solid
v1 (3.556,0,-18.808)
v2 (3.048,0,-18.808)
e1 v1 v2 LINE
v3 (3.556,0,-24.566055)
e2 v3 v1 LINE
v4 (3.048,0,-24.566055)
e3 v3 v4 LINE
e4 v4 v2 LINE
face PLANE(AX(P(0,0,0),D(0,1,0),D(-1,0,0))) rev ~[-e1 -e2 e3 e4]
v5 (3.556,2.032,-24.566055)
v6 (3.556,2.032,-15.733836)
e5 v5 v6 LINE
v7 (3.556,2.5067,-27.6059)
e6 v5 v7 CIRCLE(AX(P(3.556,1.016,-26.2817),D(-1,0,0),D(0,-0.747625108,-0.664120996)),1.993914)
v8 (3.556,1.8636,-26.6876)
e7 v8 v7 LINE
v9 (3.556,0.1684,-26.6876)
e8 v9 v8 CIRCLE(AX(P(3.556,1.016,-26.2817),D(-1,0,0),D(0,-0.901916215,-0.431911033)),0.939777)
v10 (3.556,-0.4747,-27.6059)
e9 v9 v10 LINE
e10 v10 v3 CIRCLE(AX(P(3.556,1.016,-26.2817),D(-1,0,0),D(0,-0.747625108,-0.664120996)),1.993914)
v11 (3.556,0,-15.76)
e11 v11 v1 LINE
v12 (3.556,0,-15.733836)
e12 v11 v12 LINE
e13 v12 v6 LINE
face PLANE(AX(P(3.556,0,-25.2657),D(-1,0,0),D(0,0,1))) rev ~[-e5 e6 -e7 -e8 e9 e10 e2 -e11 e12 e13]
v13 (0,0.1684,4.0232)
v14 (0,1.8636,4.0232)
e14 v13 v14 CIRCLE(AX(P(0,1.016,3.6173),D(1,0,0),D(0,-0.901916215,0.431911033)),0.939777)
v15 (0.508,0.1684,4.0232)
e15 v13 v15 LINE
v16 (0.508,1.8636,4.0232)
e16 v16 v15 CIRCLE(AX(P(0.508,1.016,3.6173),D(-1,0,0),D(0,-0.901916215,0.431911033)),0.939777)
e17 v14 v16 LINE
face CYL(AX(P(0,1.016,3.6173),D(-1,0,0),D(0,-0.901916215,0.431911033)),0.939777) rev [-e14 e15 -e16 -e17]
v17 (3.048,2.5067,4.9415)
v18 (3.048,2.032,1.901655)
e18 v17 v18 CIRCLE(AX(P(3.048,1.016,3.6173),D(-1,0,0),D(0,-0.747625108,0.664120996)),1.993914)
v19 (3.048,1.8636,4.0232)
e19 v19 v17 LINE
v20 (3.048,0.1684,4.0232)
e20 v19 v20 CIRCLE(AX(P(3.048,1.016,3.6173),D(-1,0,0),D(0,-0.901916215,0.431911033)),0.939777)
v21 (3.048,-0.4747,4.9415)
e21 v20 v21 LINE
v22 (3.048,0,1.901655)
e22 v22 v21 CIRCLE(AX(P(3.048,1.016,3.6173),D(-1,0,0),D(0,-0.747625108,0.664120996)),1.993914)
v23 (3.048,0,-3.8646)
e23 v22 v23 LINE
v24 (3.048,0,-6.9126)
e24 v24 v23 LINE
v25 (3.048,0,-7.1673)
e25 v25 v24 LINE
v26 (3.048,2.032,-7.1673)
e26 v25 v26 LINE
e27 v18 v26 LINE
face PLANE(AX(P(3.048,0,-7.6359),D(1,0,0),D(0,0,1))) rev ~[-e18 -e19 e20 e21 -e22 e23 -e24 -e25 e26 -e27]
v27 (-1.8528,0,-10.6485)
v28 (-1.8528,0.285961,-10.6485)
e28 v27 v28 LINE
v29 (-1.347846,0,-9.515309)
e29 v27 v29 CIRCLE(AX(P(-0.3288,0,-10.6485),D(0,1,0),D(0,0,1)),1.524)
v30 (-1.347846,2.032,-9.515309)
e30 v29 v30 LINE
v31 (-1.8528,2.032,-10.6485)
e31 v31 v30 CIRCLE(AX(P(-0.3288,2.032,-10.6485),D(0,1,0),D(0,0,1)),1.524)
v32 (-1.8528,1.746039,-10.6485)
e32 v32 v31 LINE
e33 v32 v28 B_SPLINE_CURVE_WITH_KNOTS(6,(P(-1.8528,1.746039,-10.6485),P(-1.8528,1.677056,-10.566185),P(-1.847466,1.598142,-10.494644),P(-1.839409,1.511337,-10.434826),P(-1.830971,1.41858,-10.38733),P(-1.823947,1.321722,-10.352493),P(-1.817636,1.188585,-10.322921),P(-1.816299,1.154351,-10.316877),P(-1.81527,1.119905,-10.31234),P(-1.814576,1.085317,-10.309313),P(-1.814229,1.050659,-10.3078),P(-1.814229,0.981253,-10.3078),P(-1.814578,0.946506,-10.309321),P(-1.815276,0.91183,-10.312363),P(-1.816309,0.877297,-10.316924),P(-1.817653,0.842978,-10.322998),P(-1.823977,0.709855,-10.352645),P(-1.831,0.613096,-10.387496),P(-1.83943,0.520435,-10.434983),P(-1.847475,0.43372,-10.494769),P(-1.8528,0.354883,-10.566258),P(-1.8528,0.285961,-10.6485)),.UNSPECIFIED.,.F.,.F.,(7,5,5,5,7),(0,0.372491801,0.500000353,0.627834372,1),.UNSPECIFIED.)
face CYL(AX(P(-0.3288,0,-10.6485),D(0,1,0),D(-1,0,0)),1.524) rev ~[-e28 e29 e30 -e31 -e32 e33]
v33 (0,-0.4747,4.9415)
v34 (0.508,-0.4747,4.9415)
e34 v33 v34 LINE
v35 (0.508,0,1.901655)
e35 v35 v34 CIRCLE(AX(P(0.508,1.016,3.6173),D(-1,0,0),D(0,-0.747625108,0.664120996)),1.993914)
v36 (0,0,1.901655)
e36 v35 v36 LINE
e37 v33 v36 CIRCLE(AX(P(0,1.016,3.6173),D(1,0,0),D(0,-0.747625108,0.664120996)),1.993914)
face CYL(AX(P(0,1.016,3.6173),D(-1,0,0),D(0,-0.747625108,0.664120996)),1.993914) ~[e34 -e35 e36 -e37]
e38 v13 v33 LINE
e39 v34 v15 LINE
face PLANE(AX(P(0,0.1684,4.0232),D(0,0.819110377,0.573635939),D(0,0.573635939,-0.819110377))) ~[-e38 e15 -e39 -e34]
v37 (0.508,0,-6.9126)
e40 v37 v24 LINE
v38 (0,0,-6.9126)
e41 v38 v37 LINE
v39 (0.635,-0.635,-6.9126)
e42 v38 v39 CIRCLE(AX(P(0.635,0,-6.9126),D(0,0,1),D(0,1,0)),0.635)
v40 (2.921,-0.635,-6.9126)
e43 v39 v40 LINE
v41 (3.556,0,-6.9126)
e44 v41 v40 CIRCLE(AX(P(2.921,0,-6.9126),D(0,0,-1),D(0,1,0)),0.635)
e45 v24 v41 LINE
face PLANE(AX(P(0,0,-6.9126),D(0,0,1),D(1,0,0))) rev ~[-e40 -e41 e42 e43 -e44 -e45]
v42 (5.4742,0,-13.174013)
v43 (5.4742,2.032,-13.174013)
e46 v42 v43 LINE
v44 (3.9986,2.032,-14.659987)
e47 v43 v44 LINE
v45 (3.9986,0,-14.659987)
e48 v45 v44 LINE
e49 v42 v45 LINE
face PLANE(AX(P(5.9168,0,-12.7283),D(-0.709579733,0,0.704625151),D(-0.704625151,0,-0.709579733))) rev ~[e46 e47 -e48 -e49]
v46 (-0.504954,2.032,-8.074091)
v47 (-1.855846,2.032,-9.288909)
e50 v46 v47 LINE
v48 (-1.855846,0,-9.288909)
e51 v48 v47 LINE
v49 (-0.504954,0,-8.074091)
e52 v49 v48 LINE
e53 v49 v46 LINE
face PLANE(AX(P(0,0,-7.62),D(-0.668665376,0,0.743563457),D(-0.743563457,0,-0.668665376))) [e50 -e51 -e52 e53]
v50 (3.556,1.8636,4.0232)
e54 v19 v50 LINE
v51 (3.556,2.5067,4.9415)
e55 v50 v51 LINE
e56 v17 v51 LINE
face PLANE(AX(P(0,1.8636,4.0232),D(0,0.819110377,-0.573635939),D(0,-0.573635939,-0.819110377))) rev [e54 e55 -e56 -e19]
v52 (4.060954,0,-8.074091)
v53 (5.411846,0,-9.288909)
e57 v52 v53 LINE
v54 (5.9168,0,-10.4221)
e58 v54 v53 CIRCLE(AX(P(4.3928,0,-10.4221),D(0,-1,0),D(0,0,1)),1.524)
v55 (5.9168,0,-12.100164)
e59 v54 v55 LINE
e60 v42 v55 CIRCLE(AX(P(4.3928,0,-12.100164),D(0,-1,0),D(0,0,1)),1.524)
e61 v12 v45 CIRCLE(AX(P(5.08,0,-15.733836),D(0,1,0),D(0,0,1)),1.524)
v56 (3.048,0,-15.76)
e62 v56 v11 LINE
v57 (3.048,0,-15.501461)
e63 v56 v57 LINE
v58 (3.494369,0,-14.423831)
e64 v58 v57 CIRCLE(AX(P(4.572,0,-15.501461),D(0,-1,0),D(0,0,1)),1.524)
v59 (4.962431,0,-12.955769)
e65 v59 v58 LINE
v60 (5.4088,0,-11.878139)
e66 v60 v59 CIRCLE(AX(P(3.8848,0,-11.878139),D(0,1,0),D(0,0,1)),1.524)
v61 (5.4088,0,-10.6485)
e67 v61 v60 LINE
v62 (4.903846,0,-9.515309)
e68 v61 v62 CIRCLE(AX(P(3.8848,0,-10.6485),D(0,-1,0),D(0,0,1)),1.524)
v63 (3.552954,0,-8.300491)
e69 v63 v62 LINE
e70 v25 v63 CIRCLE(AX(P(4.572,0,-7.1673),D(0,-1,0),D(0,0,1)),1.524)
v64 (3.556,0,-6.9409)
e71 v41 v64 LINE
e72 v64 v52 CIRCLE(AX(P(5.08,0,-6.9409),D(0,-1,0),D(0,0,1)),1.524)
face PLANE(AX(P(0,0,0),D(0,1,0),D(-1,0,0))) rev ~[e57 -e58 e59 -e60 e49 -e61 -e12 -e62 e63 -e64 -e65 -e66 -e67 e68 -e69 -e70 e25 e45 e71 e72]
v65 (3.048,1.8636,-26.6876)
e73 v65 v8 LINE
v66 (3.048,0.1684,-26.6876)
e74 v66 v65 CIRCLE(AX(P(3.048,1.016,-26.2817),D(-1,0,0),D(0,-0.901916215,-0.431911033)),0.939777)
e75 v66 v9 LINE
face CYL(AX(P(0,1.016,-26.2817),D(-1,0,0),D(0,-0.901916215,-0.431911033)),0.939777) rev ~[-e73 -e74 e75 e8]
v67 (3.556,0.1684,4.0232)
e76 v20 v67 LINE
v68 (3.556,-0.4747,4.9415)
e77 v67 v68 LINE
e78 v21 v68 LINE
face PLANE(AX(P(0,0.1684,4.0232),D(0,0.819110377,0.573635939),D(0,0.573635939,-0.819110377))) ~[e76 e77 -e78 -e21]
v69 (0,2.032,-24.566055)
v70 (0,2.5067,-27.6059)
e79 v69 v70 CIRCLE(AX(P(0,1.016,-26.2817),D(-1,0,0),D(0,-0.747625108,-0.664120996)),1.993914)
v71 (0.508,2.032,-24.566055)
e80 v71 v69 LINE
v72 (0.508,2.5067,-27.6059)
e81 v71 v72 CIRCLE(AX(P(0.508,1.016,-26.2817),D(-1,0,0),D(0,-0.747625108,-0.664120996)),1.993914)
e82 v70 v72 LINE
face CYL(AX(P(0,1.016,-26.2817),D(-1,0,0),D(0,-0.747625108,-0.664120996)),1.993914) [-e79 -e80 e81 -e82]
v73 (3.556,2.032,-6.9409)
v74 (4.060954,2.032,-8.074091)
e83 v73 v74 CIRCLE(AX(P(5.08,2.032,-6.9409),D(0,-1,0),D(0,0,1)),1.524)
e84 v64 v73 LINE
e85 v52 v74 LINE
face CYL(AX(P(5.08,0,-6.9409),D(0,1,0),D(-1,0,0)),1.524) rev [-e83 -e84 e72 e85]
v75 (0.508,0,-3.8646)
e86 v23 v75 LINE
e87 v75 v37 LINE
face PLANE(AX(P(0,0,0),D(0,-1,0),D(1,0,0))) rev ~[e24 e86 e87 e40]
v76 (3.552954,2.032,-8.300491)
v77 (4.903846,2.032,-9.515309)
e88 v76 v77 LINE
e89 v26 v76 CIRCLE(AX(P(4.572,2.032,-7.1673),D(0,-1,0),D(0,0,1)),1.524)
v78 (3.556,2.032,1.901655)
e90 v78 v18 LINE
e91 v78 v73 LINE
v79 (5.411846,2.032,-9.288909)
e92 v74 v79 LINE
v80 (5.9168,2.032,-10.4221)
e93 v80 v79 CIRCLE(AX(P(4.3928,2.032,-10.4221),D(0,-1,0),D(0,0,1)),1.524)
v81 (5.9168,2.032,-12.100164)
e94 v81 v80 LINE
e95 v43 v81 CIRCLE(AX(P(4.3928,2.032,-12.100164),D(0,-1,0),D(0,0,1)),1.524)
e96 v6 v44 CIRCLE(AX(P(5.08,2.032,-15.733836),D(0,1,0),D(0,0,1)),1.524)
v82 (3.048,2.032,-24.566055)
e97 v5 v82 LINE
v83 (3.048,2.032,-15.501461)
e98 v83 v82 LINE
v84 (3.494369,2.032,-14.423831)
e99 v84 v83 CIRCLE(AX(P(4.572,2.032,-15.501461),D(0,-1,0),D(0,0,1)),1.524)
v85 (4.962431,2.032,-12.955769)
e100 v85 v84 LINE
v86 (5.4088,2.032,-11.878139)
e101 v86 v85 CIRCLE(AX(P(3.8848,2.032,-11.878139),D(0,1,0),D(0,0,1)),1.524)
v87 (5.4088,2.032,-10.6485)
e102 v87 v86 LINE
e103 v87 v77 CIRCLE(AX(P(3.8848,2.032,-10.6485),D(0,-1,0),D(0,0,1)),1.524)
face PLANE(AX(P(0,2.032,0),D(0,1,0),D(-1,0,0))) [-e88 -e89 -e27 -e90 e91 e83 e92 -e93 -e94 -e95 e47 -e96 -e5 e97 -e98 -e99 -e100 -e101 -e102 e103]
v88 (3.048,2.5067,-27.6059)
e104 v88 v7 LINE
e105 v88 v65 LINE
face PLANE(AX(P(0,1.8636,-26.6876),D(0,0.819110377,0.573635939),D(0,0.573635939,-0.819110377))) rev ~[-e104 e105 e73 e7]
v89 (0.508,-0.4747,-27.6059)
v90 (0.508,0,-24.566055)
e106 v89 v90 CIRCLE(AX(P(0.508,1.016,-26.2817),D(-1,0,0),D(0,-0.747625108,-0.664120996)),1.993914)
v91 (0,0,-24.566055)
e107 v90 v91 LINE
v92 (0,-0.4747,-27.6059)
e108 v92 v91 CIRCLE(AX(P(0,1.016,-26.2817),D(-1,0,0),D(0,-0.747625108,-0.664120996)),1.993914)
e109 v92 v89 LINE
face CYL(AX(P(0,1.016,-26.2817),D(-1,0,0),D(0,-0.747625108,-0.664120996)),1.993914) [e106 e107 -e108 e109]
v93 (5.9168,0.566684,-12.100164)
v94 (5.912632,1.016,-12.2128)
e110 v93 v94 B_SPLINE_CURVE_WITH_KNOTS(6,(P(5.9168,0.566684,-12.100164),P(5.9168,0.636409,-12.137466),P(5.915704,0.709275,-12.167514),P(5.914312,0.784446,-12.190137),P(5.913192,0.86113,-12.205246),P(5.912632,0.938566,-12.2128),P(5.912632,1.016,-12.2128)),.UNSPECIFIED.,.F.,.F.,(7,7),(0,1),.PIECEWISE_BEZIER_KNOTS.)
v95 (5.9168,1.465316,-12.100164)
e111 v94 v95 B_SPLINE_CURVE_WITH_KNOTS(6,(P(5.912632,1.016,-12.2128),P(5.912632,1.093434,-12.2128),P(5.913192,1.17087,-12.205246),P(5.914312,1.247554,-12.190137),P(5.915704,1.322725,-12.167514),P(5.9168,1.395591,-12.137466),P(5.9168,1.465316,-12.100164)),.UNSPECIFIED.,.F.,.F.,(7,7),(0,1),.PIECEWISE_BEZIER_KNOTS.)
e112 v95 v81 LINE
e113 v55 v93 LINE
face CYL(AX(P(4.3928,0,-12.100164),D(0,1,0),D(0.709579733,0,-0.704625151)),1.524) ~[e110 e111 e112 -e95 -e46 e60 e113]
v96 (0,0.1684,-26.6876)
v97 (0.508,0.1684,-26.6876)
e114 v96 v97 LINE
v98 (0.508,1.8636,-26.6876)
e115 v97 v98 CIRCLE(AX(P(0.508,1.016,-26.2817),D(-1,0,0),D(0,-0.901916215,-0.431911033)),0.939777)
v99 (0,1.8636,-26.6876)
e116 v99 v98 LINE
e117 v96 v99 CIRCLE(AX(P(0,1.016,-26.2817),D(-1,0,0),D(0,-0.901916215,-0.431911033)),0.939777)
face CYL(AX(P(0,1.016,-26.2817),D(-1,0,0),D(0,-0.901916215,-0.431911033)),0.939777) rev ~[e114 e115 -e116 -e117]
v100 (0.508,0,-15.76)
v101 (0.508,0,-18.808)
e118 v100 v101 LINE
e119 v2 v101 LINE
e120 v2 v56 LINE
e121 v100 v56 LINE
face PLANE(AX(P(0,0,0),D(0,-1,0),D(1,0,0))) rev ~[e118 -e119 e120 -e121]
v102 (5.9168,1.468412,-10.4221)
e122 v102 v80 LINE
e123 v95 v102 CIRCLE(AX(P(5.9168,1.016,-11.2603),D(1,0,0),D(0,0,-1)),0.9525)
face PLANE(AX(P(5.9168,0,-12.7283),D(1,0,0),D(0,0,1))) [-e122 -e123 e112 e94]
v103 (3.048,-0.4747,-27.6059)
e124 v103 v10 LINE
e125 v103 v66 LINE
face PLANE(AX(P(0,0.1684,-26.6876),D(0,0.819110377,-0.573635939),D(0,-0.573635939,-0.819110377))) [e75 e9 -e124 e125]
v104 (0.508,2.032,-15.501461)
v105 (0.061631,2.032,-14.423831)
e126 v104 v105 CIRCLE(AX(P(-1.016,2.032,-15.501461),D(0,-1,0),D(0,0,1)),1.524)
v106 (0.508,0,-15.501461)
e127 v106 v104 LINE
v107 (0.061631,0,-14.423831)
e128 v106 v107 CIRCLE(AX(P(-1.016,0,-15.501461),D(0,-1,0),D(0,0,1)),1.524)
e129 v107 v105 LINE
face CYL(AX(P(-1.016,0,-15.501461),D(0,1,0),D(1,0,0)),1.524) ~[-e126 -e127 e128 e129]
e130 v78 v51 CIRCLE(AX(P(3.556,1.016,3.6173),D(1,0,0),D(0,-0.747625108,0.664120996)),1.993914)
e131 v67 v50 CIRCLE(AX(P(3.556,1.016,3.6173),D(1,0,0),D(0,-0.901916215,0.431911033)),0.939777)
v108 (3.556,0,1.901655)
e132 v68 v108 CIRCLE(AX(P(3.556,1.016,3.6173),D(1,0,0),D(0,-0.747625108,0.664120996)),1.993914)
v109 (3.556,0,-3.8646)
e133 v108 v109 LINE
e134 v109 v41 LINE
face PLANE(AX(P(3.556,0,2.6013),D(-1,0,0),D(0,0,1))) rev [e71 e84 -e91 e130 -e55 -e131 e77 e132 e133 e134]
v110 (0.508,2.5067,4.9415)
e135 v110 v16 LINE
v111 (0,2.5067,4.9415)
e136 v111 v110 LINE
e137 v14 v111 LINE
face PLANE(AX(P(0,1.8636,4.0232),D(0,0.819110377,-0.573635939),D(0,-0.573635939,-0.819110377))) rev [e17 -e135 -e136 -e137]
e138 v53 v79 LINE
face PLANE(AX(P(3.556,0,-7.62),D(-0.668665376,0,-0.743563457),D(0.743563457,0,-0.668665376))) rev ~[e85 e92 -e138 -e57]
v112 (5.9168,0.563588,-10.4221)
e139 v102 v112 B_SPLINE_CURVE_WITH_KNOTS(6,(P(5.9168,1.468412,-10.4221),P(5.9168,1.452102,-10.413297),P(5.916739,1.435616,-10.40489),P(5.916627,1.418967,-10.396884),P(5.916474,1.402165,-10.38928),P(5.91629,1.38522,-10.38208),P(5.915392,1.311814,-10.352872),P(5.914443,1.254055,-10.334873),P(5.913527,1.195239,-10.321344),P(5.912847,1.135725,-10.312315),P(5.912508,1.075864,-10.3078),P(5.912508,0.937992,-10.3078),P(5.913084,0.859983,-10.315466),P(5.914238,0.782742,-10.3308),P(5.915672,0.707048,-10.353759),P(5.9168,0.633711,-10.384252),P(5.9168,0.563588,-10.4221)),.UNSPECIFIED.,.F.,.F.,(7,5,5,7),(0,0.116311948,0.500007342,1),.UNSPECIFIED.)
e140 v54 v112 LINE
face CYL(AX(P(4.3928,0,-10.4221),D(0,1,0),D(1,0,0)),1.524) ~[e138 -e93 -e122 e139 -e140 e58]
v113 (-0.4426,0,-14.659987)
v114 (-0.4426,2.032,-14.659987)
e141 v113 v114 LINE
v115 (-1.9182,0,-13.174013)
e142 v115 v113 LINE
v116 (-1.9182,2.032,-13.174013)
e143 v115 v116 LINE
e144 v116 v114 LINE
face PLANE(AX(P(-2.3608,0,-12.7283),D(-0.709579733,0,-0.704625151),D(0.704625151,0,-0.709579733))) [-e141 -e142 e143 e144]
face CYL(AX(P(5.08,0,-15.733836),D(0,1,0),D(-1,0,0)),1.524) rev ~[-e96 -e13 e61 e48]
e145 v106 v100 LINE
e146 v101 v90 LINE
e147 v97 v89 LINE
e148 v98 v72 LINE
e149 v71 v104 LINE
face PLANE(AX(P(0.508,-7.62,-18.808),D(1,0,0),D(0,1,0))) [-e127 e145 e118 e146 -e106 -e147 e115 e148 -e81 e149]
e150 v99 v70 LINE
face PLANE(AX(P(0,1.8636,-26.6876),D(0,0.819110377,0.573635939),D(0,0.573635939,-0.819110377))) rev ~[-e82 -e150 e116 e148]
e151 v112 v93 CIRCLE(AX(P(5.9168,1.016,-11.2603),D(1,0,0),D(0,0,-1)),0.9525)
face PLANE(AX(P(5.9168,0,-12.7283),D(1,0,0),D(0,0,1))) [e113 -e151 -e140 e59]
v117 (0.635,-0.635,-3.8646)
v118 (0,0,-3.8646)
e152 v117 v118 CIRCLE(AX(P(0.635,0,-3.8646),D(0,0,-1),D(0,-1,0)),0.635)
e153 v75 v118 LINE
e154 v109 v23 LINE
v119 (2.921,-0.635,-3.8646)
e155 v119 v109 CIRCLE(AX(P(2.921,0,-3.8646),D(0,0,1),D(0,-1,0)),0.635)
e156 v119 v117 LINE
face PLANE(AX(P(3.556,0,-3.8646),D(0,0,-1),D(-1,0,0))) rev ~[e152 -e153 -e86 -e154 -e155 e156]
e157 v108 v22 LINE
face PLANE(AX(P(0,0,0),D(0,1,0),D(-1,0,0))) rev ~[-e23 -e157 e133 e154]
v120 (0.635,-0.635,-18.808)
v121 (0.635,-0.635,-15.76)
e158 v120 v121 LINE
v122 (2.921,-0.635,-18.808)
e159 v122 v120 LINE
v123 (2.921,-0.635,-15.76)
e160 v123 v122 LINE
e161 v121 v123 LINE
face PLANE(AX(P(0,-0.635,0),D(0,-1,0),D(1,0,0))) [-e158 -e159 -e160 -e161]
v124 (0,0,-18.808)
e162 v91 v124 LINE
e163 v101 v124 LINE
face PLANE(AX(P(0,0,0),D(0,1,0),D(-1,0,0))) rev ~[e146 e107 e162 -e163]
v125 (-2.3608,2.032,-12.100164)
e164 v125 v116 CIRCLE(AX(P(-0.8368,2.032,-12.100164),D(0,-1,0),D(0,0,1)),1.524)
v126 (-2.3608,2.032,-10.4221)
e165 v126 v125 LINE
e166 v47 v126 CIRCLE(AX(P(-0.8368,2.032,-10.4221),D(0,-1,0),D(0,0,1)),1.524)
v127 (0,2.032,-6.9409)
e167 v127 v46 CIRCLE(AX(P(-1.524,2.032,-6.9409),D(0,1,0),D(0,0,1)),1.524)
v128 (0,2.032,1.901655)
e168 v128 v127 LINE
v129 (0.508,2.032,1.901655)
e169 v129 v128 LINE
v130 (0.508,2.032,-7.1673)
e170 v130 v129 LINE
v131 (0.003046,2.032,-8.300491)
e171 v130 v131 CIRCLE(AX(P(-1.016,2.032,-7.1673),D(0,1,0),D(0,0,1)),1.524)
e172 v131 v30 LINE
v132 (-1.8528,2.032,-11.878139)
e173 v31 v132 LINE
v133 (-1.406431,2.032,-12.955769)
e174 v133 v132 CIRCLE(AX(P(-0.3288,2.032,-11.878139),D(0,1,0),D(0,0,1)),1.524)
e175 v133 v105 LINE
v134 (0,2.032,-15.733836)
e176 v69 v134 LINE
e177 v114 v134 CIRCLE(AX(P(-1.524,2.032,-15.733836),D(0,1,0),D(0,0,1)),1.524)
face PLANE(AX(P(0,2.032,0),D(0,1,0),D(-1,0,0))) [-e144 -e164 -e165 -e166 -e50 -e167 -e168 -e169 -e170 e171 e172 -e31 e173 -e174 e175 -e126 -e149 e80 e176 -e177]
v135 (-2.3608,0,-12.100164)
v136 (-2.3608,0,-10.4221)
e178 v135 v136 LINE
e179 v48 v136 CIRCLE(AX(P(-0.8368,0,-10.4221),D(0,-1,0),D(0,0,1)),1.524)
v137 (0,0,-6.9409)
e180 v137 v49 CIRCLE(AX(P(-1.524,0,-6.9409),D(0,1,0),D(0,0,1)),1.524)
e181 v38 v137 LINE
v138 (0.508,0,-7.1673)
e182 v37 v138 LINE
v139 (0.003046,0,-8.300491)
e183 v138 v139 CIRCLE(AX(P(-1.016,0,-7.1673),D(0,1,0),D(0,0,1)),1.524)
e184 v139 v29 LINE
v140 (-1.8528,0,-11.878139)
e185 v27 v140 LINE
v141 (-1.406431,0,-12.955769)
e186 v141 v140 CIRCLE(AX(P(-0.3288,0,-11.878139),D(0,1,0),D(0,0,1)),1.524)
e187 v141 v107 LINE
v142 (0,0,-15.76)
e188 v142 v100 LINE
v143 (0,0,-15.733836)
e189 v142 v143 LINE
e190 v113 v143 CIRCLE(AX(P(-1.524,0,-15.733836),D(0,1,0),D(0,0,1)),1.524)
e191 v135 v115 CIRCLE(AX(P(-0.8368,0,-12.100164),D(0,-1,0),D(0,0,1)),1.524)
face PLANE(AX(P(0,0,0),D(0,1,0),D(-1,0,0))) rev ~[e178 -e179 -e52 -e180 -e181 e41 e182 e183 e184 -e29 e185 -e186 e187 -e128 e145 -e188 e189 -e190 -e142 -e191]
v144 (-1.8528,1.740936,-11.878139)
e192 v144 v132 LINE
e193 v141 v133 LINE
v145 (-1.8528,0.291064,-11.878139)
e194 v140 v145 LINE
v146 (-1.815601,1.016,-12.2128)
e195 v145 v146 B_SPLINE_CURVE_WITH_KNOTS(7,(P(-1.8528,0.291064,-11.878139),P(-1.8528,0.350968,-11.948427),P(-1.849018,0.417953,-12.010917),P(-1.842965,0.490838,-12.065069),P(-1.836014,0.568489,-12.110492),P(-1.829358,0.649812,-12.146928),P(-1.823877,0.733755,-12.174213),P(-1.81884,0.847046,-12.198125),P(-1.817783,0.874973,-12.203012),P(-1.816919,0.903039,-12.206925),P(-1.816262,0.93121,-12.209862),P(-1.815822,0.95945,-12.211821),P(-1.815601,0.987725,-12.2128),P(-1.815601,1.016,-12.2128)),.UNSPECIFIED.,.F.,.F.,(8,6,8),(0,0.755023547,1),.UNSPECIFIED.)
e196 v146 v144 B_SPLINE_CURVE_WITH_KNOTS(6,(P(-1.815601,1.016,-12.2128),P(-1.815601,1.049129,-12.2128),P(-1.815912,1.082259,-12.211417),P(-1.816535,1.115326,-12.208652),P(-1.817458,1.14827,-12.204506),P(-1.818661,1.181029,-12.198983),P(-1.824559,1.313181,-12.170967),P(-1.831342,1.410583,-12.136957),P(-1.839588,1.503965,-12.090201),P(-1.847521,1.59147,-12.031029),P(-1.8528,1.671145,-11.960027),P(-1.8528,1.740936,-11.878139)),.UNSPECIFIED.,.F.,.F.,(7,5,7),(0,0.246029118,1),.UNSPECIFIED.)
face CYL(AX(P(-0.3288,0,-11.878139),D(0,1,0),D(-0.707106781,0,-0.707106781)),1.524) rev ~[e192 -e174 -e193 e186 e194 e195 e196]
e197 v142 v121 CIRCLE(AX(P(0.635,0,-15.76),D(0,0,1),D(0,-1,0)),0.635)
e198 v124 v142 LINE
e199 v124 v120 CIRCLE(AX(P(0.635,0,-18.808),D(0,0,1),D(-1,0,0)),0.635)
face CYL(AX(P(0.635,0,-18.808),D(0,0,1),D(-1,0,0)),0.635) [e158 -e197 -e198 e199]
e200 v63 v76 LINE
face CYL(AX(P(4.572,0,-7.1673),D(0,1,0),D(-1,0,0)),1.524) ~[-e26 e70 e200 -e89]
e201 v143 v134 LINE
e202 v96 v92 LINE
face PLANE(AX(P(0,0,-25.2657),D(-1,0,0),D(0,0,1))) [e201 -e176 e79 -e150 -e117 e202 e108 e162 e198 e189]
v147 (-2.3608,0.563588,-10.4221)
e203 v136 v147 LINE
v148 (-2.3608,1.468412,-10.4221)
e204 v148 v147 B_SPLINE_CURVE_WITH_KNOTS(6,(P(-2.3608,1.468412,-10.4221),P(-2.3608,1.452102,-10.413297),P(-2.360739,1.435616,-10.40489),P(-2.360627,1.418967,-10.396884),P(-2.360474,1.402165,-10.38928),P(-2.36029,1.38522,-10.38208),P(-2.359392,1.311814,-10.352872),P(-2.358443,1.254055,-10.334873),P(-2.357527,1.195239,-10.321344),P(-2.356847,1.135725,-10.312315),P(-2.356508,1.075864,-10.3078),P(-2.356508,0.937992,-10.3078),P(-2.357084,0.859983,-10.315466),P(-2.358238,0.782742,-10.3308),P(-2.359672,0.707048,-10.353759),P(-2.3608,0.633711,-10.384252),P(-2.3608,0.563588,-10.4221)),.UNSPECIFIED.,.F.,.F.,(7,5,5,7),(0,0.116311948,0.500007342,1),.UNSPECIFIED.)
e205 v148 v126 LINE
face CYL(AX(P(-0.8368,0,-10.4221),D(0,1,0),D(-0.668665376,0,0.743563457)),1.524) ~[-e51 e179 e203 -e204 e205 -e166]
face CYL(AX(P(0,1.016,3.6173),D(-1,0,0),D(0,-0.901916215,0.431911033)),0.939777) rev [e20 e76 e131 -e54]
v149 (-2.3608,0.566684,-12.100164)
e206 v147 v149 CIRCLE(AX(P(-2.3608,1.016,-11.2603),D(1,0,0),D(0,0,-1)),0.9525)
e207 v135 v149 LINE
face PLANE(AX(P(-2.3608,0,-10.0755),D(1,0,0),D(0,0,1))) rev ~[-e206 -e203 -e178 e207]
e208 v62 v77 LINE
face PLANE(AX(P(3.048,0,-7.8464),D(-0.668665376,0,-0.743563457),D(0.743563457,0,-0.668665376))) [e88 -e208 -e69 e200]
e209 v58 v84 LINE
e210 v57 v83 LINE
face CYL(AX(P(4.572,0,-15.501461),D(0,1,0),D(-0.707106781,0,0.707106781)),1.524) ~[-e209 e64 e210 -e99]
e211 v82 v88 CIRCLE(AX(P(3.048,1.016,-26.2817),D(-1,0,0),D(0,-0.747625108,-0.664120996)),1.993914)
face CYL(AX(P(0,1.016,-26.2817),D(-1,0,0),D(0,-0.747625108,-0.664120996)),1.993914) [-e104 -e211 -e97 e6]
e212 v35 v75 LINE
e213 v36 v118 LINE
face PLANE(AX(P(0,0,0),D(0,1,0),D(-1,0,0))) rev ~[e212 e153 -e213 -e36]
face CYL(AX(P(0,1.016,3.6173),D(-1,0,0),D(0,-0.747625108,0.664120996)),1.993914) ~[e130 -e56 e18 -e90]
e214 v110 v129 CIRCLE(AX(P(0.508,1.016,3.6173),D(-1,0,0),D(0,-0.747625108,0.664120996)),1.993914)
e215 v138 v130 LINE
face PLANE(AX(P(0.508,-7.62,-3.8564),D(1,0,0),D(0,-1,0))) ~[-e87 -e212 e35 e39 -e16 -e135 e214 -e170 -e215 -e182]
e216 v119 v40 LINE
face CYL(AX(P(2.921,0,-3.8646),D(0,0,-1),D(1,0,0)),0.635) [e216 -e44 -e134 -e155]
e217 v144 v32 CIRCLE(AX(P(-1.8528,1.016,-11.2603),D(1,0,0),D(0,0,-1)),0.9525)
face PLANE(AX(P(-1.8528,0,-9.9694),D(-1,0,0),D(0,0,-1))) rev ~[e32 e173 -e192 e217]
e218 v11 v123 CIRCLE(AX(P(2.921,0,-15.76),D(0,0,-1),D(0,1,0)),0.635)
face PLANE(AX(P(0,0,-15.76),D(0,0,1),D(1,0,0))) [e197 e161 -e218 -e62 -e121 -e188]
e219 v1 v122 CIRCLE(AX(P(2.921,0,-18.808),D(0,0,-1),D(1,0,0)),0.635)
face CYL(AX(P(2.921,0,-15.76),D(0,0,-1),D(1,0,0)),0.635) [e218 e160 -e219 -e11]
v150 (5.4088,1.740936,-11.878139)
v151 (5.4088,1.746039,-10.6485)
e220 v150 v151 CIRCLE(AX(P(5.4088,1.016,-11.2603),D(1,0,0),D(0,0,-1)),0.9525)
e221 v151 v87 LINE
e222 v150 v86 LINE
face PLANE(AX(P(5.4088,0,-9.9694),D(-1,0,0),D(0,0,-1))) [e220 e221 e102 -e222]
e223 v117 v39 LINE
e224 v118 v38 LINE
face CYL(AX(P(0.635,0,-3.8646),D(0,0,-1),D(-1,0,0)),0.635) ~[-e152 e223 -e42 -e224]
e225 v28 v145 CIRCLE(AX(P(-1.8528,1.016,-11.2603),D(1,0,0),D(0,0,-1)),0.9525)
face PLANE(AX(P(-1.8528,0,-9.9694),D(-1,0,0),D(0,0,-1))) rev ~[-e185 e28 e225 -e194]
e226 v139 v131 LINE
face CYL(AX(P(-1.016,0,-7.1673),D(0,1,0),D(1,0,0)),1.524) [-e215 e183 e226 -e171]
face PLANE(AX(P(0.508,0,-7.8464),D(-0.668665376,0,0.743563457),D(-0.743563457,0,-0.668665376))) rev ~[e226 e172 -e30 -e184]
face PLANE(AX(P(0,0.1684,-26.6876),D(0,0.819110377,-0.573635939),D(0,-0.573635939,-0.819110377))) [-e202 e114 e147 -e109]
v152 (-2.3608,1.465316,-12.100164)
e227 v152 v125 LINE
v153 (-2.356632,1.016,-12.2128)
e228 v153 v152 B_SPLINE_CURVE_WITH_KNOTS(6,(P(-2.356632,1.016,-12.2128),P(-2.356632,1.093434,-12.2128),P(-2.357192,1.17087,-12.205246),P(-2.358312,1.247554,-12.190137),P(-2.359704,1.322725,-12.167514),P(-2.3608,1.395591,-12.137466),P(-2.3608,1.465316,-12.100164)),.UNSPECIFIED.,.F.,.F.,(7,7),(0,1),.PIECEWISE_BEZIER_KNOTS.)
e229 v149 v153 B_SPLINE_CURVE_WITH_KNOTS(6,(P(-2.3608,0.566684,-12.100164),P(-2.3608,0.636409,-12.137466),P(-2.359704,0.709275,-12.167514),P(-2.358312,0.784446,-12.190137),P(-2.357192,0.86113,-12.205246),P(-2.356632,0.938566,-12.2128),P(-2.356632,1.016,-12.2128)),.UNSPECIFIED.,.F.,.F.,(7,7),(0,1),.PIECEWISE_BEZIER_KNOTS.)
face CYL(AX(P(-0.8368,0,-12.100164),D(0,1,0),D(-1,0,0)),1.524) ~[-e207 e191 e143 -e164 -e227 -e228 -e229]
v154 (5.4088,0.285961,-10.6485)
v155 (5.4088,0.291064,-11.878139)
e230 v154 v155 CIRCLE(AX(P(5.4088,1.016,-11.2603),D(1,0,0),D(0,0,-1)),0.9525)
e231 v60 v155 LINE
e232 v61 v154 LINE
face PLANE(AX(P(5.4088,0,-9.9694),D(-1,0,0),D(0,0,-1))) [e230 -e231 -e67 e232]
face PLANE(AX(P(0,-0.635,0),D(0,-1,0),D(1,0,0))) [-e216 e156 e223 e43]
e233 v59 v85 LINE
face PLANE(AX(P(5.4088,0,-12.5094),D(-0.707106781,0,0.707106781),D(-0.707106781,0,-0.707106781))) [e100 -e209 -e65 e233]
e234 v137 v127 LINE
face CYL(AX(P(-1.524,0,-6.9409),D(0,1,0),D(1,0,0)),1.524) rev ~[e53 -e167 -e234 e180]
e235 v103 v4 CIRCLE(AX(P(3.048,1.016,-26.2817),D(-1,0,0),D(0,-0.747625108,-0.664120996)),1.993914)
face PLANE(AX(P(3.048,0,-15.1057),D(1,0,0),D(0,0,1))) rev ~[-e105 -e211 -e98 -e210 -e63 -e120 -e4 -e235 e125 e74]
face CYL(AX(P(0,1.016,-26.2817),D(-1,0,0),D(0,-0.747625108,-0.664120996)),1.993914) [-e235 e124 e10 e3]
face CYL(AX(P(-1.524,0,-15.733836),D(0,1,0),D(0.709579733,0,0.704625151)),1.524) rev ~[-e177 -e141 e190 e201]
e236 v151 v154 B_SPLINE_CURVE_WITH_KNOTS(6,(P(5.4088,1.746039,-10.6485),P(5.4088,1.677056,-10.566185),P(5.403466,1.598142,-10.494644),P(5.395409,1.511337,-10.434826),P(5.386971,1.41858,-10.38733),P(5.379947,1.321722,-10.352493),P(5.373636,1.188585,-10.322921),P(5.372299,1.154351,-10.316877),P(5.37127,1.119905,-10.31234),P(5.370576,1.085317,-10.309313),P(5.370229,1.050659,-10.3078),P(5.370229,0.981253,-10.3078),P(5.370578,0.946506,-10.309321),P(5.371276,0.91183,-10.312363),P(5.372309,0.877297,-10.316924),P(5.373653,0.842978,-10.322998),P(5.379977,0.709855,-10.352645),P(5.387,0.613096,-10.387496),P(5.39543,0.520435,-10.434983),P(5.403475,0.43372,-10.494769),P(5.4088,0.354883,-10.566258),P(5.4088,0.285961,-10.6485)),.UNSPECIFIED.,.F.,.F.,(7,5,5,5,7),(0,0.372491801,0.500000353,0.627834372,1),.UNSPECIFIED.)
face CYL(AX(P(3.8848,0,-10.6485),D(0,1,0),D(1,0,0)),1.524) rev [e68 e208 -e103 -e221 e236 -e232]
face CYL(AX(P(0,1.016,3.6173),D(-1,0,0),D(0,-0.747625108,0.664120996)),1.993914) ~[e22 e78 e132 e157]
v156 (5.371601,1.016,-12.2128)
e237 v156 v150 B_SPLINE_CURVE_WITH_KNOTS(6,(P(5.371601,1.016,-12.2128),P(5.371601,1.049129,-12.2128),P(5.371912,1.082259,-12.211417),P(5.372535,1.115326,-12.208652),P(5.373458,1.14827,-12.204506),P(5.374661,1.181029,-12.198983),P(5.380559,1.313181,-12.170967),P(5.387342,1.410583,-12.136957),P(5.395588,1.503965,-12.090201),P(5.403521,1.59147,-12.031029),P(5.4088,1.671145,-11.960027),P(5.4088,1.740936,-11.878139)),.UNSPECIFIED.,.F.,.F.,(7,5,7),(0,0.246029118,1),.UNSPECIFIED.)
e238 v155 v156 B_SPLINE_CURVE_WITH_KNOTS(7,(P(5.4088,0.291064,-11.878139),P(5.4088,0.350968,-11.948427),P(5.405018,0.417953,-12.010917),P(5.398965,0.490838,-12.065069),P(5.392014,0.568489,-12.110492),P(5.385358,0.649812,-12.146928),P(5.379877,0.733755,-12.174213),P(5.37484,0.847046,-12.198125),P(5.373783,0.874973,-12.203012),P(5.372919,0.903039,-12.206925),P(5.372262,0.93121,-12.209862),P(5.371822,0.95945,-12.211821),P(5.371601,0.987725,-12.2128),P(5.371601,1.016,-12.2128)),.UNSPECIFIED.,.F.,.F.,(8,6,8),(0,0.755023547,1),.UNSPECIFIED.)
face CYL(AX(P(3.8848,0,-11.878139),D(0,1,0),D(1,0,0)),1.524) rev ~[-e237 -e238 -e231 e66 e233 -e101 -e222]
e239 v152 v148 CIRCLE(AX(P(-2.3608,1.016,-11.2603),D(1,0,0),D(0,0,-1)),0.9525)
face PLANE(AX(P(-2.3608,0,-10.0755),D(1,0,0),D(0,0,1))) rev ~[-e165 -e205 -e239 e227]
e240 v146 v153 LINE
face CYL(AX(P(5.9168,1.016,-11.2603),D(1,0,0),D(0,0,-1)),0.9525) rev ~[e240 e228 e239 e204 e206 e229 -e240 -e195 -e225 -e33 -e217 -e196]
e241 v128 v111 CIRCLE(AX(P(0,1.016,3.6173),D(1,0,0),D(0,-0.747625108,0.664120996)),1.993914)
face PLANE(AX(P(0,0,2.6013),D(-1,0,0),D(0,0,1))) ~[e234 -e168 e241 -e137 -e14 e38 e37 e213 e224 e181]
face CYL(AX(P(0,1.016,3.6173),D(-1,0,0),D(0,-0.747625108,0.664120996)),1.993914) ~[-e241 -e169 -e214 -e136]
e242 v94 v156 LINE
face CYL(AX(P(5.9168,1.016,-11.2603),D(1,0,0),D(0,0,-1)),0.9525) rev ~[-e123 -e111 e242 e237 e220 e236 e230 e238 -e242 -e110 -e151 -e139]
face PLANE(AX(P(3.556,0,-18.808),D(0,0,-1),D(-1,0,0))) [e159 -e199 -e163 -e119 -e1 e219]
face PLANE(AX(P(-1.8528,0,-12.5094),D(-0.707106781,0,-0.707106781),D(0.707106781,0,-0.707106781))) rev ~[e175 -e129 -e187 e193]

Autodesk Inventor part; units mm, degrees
ref_plane "YZ Plane" through (0, 0, 0) normal (1, 0, 0) x (0, 1, 0)
ref_plane "XZ Plane" through (0, 0, 0) normal (0, 1, 0) x (-1, 0, 0)
ref_plane "XY Plane" through (0, 0, 0) normal (0, 0, 1) x (1, 0, 0)
sketch "Sketch1" plane through (0, 0, 0) normal (0, 1, 0) x (-1, 0, 0)
  line L0 (-1.778, -22.923) -> (-1.778, 0)
  line L1 (-0.508, -7.6359) -> (-0.508, -7.8464)
  line L2 (0, -7.62) -> (2.3608, -9.743)
  line L3 (-0.508, -7.8464) -> (1.8528, -9.9694)
  line L4 (2.3608, -10.0755) -> (2.3608, -9.743)
  line L5 (1.8528, -9.9694) -> (1.8528, -12.5094)
  line L6 (2.3608, -12.7283) -> (2.3608, -10.0755)
  line L7 (1.8528, -12.5094) -> (-0.508, -14.8702)
  line L8 (2.3608, -12.7283) -> (0, -15.1057)
  line L9 (-0.508, -15.1057) -> (-0.508, -25.2657)
  line L10 (-0.508, -25.2657) -> (0, -25.2657)
  line L11 (0, -25.2657) -> (0, -15.1057)
  line L12 (-0.508, -15.1057) -> (-0.508, -14.8702)
  line L13 (-0.508, -7.6359) -> (-0.508, 2.5241)
  line L14 (-0.508, 2.5241) -> (0, 2.5241)
  line L15 (0, 2.5241) -> (0, -7.62)
  line L16 (-5.4088, -9.9694) -> (-5.4088, -12.5094)
  line L17 (-5.9168, -12.7283) -> (-5.9168, -10.0755)
  line L18 (-3.048, -15.1057) -> (-3.048, -14.8702)
  line L19 (-5.4088, -12.5094) -> (-3.048, -14.8702)
  line L20 (-5.9168, -12.7283) -> (-3.556, -15.1057)
  line L21 (-3.048, -15.1057) -> (-3.048, -25.2657)
  line L22 (-3.048, -25.2657) -> (-3.556, -25.2657)
  line L23 (-3.556, -25.2657) -> (-3.556, -15.1057)
  line L24 (-5.9168, -10.0755) -> (-5.9168, -9.743)
  line L25 (-3.048, -7.8464) -> (-5.4088, -9.9694)
  line L26 (-3.556, -7.62) -> (-5.9168, -9.743)
  line L27 (-3.048, -7.6359) -> (-3.048, -7.8464)
  line L28 (-3.048, 2.5241) -> (-3.556, 2.5241)
  line L29 (-3.556, 2.5241) -> (-3.556, -7.62)
  line L30 (-3.048, -7.6359) -> (-3.048, 2.5241)
  point P0 (2.5714, -13.0979)
  point P1 (-0.508, -7.6086)
  point P2 (-6.1274, -13.0979)
  point P3 (-3.048, -7.6086)
extrude "Extrusion1" add sketch "Sketch1" along normal blind 2.032
sketch "Sketch3" plane through (0, 0, 0) normal (0, -1, 0) x (1, 0, 0)
  line L0 (3.556, 0) -> (3.556, -6.9126) projected
  line L1 (0, -6.9126) -> (3.556, -6.9126)
  line L2 (3.556, -6.9126) -> (3.556, -3.8646)
  line L3 (3.556, -3.8646) -> (0, -3.8646)
  line L4 (0, -3.8646) -> (0, -6.9126)
  line L5 (0, -22.923) -> (0, -15.76) projected
  line L6 (3.556, -15.76) -> (3.556, -22.923) projected
  line L7 (0, -15.76) -> (3.556, -15.76)
  line L8 (3.556, -15.76) -> (3.556, -18.808)
  line L9 (3.556, -18.808) -> (0, -18.808)
  line L10 (0, -18.808) -> (0, -15.76)
  point P0 (0, 0)
  dimension "d33" = 3.048
  dimension "d34" = 3.048
extrude "Extrusion3" add sketch "Sketch3" along normal blind 0.635
fillet "Fillet4" radius 0.635 4 edges at (3.556, -0.635, -5.3886) (0, -0.635, -5.3886) (0, -0.635, -17.284) (3.556, -0.635, -17.284)
sketch "Sketch6" plane through (3.048, 0, -3.8646) normal (0, 0, 1) x (1, 0, 0)
  line L0 (-2.54, 2.032) -> (-0.0025, 2.032)
  line L1 (-0.0025, 2.032) -> (-0.0025, -3.9837)
  line L2 (-0.0025, -3.9837) -> (-2.54, -3.9837)
  line L3 (-2.54, -3.9837) -> (-2.54, 2.032)
  line L4 (-0.0025, -3.9837) -> (-2.54, -3.9837)
  line L5 (-2.54, -3.9837) -> (-2.54, 4.1191)
  line L6 (-2.54, 4.1191) -> (-0.0025, 4.1191)
  line L7 (-0.0025, 4.1191) -> (-0.0025, -3.9837)
  point P0 (-3.048, 0)
extrude "Extrusion6" cut sketch "Sketch6" along normal through all
sketch "Sketch9" plane through (0.508, 0, -18.808) normal (0, 0, -1) x (-1, 0, 0)
  line L0 (0, 0) -> (0.508, 0) projected
  line L1 (0, 0) -> (-2.54, 0)
  line L2 (-2.54, 0) -> (-2.54, 7.62)
  line L3 (-2.54, 7.62) -> (0, 7.62)
  line L4 (0, 7.62) -> (0, 0)
  line L5 (-2.54, 7.62) -> (0, 7.62)
  line L6 (0, 7.62) -> (0, -7.6202)
  line L7 (0, -7.6202) -> (-2.54, -7.6202)
  line L8 (-2.54, -7.6202) -> (-2.54, 7.62)
  dimension "d50" = 2.54
  dimension "d51" = 7.62
extrude "Extrusion8" cut sketch "Sketch9" along normal through all
fillet "Fillet6" radius 1.524 16 edges at (5.9168, 1.016, -9.743) (3.556, 1.016, -7.62) (3.048, 1.016, -7.8464) (5.4088, 1.016, -9.9694) (5.4088, 1.016, -12.5094) (5.9168, 1.016, -12.7283) (3.048, 1.016, -14.8702) (3.556, 1.016, -15.1057) (-2.3608, 1.016, -12.7283) (0, 1.016, -15.1057) (0.508, 1.016, -14.8702) (-1.8528, 1.016, -12.5094) (-2.3608, 1.016, -9.743) (-1.8528, 1.016, -9.9694) (0, 1.016, -7.62) (0.508, 1.016, -7.8464)
sketch "Sketch11" plane through (0, 0, -25.2657) normal (-1, 0, 0) x (0, 0, 1)
  arc A0 (-2.3402, -0.4747) -> (-2.3402, 2.5067) centre (-1.016, 1.016) ccw
  line L0 (-1.016, 0.0802) -> (0.5328, 0.0802) construction
  line L1 (-1.016, 1.9518) -> (0.5328, 1.9518) construction
  arc A1 (-2.3402, -0.4747) -> (-2.3402, 2.5067) centre (-1.016, 1.016) ccw
  arc A2 (-1.4219, 0.1684) -> (-1.4219, 1.8636) centre (-1.016, 1.016) ccw
  line L2 (-1.4219, 1.8636) -> (-2.3402, 2.5067)
  line L3 (-1.4219, 1.8636) -> (-0.3008, 1.8636) construction
  line L4 (-1.4219, 0.1684) -> (-2.3402, -0.4747)
  line L5 (-1.4219, 0.1684) -> (-0.3008, 0.1684) construction
  point P0 (25.2657, 0)
  dimension "d66" = 3.9878
  dimension "d74" = 1.8796
  dimension "d75" = 145
  dimension "d76" = 145
extrude "Extrusion10" add sketch "Sketch11" against normal blind 3.556
sketch "Sketch12" plane through (3.048, 0, -18.808) normal (0, 0, -1) x (-1, 0, 0)
  line L0 (0, -7.62) -> (2.54, -7.62)
  line L1 (2.54, -7.62) -> (2.54, 11.139)
  line L2 (2.54, 11.139) -> (0, 11.139)
  line L3 (0, 11.139) -> (0, -7.62)
  point P0 (3.048, 0)
extrude "Extrusion11" cut sketch "Sketch12" along normal through all
ref_plane "Work Plane3" through (3.048, 0, -11.3322) normal (0, 0, -1) x (-1, 0, 0)
mirror "Mirror2" about plane through (3.048, 0, -11.3322) normal (0, 0, -1) of "Extrusion10"
mirror "Mirror3" about plane through (3.048, 0, -11.3322) normal (0, 0, -1) of "Extrusion11"
sketch "Sketch13" plane through (5.9168, 0, -10.4221) normal (1, 0, 0) x (0, 0, -1)
  circle A0 centre (0.8382, 1.016) radius 0.9525
  point P0 (-10.4221, 0)
  dimension "d77" = 1.905
extrude "Extrusion12" cut sketch "Sketch13" against normal through all
properties part number "rocker" material "Aluminum 6061"
